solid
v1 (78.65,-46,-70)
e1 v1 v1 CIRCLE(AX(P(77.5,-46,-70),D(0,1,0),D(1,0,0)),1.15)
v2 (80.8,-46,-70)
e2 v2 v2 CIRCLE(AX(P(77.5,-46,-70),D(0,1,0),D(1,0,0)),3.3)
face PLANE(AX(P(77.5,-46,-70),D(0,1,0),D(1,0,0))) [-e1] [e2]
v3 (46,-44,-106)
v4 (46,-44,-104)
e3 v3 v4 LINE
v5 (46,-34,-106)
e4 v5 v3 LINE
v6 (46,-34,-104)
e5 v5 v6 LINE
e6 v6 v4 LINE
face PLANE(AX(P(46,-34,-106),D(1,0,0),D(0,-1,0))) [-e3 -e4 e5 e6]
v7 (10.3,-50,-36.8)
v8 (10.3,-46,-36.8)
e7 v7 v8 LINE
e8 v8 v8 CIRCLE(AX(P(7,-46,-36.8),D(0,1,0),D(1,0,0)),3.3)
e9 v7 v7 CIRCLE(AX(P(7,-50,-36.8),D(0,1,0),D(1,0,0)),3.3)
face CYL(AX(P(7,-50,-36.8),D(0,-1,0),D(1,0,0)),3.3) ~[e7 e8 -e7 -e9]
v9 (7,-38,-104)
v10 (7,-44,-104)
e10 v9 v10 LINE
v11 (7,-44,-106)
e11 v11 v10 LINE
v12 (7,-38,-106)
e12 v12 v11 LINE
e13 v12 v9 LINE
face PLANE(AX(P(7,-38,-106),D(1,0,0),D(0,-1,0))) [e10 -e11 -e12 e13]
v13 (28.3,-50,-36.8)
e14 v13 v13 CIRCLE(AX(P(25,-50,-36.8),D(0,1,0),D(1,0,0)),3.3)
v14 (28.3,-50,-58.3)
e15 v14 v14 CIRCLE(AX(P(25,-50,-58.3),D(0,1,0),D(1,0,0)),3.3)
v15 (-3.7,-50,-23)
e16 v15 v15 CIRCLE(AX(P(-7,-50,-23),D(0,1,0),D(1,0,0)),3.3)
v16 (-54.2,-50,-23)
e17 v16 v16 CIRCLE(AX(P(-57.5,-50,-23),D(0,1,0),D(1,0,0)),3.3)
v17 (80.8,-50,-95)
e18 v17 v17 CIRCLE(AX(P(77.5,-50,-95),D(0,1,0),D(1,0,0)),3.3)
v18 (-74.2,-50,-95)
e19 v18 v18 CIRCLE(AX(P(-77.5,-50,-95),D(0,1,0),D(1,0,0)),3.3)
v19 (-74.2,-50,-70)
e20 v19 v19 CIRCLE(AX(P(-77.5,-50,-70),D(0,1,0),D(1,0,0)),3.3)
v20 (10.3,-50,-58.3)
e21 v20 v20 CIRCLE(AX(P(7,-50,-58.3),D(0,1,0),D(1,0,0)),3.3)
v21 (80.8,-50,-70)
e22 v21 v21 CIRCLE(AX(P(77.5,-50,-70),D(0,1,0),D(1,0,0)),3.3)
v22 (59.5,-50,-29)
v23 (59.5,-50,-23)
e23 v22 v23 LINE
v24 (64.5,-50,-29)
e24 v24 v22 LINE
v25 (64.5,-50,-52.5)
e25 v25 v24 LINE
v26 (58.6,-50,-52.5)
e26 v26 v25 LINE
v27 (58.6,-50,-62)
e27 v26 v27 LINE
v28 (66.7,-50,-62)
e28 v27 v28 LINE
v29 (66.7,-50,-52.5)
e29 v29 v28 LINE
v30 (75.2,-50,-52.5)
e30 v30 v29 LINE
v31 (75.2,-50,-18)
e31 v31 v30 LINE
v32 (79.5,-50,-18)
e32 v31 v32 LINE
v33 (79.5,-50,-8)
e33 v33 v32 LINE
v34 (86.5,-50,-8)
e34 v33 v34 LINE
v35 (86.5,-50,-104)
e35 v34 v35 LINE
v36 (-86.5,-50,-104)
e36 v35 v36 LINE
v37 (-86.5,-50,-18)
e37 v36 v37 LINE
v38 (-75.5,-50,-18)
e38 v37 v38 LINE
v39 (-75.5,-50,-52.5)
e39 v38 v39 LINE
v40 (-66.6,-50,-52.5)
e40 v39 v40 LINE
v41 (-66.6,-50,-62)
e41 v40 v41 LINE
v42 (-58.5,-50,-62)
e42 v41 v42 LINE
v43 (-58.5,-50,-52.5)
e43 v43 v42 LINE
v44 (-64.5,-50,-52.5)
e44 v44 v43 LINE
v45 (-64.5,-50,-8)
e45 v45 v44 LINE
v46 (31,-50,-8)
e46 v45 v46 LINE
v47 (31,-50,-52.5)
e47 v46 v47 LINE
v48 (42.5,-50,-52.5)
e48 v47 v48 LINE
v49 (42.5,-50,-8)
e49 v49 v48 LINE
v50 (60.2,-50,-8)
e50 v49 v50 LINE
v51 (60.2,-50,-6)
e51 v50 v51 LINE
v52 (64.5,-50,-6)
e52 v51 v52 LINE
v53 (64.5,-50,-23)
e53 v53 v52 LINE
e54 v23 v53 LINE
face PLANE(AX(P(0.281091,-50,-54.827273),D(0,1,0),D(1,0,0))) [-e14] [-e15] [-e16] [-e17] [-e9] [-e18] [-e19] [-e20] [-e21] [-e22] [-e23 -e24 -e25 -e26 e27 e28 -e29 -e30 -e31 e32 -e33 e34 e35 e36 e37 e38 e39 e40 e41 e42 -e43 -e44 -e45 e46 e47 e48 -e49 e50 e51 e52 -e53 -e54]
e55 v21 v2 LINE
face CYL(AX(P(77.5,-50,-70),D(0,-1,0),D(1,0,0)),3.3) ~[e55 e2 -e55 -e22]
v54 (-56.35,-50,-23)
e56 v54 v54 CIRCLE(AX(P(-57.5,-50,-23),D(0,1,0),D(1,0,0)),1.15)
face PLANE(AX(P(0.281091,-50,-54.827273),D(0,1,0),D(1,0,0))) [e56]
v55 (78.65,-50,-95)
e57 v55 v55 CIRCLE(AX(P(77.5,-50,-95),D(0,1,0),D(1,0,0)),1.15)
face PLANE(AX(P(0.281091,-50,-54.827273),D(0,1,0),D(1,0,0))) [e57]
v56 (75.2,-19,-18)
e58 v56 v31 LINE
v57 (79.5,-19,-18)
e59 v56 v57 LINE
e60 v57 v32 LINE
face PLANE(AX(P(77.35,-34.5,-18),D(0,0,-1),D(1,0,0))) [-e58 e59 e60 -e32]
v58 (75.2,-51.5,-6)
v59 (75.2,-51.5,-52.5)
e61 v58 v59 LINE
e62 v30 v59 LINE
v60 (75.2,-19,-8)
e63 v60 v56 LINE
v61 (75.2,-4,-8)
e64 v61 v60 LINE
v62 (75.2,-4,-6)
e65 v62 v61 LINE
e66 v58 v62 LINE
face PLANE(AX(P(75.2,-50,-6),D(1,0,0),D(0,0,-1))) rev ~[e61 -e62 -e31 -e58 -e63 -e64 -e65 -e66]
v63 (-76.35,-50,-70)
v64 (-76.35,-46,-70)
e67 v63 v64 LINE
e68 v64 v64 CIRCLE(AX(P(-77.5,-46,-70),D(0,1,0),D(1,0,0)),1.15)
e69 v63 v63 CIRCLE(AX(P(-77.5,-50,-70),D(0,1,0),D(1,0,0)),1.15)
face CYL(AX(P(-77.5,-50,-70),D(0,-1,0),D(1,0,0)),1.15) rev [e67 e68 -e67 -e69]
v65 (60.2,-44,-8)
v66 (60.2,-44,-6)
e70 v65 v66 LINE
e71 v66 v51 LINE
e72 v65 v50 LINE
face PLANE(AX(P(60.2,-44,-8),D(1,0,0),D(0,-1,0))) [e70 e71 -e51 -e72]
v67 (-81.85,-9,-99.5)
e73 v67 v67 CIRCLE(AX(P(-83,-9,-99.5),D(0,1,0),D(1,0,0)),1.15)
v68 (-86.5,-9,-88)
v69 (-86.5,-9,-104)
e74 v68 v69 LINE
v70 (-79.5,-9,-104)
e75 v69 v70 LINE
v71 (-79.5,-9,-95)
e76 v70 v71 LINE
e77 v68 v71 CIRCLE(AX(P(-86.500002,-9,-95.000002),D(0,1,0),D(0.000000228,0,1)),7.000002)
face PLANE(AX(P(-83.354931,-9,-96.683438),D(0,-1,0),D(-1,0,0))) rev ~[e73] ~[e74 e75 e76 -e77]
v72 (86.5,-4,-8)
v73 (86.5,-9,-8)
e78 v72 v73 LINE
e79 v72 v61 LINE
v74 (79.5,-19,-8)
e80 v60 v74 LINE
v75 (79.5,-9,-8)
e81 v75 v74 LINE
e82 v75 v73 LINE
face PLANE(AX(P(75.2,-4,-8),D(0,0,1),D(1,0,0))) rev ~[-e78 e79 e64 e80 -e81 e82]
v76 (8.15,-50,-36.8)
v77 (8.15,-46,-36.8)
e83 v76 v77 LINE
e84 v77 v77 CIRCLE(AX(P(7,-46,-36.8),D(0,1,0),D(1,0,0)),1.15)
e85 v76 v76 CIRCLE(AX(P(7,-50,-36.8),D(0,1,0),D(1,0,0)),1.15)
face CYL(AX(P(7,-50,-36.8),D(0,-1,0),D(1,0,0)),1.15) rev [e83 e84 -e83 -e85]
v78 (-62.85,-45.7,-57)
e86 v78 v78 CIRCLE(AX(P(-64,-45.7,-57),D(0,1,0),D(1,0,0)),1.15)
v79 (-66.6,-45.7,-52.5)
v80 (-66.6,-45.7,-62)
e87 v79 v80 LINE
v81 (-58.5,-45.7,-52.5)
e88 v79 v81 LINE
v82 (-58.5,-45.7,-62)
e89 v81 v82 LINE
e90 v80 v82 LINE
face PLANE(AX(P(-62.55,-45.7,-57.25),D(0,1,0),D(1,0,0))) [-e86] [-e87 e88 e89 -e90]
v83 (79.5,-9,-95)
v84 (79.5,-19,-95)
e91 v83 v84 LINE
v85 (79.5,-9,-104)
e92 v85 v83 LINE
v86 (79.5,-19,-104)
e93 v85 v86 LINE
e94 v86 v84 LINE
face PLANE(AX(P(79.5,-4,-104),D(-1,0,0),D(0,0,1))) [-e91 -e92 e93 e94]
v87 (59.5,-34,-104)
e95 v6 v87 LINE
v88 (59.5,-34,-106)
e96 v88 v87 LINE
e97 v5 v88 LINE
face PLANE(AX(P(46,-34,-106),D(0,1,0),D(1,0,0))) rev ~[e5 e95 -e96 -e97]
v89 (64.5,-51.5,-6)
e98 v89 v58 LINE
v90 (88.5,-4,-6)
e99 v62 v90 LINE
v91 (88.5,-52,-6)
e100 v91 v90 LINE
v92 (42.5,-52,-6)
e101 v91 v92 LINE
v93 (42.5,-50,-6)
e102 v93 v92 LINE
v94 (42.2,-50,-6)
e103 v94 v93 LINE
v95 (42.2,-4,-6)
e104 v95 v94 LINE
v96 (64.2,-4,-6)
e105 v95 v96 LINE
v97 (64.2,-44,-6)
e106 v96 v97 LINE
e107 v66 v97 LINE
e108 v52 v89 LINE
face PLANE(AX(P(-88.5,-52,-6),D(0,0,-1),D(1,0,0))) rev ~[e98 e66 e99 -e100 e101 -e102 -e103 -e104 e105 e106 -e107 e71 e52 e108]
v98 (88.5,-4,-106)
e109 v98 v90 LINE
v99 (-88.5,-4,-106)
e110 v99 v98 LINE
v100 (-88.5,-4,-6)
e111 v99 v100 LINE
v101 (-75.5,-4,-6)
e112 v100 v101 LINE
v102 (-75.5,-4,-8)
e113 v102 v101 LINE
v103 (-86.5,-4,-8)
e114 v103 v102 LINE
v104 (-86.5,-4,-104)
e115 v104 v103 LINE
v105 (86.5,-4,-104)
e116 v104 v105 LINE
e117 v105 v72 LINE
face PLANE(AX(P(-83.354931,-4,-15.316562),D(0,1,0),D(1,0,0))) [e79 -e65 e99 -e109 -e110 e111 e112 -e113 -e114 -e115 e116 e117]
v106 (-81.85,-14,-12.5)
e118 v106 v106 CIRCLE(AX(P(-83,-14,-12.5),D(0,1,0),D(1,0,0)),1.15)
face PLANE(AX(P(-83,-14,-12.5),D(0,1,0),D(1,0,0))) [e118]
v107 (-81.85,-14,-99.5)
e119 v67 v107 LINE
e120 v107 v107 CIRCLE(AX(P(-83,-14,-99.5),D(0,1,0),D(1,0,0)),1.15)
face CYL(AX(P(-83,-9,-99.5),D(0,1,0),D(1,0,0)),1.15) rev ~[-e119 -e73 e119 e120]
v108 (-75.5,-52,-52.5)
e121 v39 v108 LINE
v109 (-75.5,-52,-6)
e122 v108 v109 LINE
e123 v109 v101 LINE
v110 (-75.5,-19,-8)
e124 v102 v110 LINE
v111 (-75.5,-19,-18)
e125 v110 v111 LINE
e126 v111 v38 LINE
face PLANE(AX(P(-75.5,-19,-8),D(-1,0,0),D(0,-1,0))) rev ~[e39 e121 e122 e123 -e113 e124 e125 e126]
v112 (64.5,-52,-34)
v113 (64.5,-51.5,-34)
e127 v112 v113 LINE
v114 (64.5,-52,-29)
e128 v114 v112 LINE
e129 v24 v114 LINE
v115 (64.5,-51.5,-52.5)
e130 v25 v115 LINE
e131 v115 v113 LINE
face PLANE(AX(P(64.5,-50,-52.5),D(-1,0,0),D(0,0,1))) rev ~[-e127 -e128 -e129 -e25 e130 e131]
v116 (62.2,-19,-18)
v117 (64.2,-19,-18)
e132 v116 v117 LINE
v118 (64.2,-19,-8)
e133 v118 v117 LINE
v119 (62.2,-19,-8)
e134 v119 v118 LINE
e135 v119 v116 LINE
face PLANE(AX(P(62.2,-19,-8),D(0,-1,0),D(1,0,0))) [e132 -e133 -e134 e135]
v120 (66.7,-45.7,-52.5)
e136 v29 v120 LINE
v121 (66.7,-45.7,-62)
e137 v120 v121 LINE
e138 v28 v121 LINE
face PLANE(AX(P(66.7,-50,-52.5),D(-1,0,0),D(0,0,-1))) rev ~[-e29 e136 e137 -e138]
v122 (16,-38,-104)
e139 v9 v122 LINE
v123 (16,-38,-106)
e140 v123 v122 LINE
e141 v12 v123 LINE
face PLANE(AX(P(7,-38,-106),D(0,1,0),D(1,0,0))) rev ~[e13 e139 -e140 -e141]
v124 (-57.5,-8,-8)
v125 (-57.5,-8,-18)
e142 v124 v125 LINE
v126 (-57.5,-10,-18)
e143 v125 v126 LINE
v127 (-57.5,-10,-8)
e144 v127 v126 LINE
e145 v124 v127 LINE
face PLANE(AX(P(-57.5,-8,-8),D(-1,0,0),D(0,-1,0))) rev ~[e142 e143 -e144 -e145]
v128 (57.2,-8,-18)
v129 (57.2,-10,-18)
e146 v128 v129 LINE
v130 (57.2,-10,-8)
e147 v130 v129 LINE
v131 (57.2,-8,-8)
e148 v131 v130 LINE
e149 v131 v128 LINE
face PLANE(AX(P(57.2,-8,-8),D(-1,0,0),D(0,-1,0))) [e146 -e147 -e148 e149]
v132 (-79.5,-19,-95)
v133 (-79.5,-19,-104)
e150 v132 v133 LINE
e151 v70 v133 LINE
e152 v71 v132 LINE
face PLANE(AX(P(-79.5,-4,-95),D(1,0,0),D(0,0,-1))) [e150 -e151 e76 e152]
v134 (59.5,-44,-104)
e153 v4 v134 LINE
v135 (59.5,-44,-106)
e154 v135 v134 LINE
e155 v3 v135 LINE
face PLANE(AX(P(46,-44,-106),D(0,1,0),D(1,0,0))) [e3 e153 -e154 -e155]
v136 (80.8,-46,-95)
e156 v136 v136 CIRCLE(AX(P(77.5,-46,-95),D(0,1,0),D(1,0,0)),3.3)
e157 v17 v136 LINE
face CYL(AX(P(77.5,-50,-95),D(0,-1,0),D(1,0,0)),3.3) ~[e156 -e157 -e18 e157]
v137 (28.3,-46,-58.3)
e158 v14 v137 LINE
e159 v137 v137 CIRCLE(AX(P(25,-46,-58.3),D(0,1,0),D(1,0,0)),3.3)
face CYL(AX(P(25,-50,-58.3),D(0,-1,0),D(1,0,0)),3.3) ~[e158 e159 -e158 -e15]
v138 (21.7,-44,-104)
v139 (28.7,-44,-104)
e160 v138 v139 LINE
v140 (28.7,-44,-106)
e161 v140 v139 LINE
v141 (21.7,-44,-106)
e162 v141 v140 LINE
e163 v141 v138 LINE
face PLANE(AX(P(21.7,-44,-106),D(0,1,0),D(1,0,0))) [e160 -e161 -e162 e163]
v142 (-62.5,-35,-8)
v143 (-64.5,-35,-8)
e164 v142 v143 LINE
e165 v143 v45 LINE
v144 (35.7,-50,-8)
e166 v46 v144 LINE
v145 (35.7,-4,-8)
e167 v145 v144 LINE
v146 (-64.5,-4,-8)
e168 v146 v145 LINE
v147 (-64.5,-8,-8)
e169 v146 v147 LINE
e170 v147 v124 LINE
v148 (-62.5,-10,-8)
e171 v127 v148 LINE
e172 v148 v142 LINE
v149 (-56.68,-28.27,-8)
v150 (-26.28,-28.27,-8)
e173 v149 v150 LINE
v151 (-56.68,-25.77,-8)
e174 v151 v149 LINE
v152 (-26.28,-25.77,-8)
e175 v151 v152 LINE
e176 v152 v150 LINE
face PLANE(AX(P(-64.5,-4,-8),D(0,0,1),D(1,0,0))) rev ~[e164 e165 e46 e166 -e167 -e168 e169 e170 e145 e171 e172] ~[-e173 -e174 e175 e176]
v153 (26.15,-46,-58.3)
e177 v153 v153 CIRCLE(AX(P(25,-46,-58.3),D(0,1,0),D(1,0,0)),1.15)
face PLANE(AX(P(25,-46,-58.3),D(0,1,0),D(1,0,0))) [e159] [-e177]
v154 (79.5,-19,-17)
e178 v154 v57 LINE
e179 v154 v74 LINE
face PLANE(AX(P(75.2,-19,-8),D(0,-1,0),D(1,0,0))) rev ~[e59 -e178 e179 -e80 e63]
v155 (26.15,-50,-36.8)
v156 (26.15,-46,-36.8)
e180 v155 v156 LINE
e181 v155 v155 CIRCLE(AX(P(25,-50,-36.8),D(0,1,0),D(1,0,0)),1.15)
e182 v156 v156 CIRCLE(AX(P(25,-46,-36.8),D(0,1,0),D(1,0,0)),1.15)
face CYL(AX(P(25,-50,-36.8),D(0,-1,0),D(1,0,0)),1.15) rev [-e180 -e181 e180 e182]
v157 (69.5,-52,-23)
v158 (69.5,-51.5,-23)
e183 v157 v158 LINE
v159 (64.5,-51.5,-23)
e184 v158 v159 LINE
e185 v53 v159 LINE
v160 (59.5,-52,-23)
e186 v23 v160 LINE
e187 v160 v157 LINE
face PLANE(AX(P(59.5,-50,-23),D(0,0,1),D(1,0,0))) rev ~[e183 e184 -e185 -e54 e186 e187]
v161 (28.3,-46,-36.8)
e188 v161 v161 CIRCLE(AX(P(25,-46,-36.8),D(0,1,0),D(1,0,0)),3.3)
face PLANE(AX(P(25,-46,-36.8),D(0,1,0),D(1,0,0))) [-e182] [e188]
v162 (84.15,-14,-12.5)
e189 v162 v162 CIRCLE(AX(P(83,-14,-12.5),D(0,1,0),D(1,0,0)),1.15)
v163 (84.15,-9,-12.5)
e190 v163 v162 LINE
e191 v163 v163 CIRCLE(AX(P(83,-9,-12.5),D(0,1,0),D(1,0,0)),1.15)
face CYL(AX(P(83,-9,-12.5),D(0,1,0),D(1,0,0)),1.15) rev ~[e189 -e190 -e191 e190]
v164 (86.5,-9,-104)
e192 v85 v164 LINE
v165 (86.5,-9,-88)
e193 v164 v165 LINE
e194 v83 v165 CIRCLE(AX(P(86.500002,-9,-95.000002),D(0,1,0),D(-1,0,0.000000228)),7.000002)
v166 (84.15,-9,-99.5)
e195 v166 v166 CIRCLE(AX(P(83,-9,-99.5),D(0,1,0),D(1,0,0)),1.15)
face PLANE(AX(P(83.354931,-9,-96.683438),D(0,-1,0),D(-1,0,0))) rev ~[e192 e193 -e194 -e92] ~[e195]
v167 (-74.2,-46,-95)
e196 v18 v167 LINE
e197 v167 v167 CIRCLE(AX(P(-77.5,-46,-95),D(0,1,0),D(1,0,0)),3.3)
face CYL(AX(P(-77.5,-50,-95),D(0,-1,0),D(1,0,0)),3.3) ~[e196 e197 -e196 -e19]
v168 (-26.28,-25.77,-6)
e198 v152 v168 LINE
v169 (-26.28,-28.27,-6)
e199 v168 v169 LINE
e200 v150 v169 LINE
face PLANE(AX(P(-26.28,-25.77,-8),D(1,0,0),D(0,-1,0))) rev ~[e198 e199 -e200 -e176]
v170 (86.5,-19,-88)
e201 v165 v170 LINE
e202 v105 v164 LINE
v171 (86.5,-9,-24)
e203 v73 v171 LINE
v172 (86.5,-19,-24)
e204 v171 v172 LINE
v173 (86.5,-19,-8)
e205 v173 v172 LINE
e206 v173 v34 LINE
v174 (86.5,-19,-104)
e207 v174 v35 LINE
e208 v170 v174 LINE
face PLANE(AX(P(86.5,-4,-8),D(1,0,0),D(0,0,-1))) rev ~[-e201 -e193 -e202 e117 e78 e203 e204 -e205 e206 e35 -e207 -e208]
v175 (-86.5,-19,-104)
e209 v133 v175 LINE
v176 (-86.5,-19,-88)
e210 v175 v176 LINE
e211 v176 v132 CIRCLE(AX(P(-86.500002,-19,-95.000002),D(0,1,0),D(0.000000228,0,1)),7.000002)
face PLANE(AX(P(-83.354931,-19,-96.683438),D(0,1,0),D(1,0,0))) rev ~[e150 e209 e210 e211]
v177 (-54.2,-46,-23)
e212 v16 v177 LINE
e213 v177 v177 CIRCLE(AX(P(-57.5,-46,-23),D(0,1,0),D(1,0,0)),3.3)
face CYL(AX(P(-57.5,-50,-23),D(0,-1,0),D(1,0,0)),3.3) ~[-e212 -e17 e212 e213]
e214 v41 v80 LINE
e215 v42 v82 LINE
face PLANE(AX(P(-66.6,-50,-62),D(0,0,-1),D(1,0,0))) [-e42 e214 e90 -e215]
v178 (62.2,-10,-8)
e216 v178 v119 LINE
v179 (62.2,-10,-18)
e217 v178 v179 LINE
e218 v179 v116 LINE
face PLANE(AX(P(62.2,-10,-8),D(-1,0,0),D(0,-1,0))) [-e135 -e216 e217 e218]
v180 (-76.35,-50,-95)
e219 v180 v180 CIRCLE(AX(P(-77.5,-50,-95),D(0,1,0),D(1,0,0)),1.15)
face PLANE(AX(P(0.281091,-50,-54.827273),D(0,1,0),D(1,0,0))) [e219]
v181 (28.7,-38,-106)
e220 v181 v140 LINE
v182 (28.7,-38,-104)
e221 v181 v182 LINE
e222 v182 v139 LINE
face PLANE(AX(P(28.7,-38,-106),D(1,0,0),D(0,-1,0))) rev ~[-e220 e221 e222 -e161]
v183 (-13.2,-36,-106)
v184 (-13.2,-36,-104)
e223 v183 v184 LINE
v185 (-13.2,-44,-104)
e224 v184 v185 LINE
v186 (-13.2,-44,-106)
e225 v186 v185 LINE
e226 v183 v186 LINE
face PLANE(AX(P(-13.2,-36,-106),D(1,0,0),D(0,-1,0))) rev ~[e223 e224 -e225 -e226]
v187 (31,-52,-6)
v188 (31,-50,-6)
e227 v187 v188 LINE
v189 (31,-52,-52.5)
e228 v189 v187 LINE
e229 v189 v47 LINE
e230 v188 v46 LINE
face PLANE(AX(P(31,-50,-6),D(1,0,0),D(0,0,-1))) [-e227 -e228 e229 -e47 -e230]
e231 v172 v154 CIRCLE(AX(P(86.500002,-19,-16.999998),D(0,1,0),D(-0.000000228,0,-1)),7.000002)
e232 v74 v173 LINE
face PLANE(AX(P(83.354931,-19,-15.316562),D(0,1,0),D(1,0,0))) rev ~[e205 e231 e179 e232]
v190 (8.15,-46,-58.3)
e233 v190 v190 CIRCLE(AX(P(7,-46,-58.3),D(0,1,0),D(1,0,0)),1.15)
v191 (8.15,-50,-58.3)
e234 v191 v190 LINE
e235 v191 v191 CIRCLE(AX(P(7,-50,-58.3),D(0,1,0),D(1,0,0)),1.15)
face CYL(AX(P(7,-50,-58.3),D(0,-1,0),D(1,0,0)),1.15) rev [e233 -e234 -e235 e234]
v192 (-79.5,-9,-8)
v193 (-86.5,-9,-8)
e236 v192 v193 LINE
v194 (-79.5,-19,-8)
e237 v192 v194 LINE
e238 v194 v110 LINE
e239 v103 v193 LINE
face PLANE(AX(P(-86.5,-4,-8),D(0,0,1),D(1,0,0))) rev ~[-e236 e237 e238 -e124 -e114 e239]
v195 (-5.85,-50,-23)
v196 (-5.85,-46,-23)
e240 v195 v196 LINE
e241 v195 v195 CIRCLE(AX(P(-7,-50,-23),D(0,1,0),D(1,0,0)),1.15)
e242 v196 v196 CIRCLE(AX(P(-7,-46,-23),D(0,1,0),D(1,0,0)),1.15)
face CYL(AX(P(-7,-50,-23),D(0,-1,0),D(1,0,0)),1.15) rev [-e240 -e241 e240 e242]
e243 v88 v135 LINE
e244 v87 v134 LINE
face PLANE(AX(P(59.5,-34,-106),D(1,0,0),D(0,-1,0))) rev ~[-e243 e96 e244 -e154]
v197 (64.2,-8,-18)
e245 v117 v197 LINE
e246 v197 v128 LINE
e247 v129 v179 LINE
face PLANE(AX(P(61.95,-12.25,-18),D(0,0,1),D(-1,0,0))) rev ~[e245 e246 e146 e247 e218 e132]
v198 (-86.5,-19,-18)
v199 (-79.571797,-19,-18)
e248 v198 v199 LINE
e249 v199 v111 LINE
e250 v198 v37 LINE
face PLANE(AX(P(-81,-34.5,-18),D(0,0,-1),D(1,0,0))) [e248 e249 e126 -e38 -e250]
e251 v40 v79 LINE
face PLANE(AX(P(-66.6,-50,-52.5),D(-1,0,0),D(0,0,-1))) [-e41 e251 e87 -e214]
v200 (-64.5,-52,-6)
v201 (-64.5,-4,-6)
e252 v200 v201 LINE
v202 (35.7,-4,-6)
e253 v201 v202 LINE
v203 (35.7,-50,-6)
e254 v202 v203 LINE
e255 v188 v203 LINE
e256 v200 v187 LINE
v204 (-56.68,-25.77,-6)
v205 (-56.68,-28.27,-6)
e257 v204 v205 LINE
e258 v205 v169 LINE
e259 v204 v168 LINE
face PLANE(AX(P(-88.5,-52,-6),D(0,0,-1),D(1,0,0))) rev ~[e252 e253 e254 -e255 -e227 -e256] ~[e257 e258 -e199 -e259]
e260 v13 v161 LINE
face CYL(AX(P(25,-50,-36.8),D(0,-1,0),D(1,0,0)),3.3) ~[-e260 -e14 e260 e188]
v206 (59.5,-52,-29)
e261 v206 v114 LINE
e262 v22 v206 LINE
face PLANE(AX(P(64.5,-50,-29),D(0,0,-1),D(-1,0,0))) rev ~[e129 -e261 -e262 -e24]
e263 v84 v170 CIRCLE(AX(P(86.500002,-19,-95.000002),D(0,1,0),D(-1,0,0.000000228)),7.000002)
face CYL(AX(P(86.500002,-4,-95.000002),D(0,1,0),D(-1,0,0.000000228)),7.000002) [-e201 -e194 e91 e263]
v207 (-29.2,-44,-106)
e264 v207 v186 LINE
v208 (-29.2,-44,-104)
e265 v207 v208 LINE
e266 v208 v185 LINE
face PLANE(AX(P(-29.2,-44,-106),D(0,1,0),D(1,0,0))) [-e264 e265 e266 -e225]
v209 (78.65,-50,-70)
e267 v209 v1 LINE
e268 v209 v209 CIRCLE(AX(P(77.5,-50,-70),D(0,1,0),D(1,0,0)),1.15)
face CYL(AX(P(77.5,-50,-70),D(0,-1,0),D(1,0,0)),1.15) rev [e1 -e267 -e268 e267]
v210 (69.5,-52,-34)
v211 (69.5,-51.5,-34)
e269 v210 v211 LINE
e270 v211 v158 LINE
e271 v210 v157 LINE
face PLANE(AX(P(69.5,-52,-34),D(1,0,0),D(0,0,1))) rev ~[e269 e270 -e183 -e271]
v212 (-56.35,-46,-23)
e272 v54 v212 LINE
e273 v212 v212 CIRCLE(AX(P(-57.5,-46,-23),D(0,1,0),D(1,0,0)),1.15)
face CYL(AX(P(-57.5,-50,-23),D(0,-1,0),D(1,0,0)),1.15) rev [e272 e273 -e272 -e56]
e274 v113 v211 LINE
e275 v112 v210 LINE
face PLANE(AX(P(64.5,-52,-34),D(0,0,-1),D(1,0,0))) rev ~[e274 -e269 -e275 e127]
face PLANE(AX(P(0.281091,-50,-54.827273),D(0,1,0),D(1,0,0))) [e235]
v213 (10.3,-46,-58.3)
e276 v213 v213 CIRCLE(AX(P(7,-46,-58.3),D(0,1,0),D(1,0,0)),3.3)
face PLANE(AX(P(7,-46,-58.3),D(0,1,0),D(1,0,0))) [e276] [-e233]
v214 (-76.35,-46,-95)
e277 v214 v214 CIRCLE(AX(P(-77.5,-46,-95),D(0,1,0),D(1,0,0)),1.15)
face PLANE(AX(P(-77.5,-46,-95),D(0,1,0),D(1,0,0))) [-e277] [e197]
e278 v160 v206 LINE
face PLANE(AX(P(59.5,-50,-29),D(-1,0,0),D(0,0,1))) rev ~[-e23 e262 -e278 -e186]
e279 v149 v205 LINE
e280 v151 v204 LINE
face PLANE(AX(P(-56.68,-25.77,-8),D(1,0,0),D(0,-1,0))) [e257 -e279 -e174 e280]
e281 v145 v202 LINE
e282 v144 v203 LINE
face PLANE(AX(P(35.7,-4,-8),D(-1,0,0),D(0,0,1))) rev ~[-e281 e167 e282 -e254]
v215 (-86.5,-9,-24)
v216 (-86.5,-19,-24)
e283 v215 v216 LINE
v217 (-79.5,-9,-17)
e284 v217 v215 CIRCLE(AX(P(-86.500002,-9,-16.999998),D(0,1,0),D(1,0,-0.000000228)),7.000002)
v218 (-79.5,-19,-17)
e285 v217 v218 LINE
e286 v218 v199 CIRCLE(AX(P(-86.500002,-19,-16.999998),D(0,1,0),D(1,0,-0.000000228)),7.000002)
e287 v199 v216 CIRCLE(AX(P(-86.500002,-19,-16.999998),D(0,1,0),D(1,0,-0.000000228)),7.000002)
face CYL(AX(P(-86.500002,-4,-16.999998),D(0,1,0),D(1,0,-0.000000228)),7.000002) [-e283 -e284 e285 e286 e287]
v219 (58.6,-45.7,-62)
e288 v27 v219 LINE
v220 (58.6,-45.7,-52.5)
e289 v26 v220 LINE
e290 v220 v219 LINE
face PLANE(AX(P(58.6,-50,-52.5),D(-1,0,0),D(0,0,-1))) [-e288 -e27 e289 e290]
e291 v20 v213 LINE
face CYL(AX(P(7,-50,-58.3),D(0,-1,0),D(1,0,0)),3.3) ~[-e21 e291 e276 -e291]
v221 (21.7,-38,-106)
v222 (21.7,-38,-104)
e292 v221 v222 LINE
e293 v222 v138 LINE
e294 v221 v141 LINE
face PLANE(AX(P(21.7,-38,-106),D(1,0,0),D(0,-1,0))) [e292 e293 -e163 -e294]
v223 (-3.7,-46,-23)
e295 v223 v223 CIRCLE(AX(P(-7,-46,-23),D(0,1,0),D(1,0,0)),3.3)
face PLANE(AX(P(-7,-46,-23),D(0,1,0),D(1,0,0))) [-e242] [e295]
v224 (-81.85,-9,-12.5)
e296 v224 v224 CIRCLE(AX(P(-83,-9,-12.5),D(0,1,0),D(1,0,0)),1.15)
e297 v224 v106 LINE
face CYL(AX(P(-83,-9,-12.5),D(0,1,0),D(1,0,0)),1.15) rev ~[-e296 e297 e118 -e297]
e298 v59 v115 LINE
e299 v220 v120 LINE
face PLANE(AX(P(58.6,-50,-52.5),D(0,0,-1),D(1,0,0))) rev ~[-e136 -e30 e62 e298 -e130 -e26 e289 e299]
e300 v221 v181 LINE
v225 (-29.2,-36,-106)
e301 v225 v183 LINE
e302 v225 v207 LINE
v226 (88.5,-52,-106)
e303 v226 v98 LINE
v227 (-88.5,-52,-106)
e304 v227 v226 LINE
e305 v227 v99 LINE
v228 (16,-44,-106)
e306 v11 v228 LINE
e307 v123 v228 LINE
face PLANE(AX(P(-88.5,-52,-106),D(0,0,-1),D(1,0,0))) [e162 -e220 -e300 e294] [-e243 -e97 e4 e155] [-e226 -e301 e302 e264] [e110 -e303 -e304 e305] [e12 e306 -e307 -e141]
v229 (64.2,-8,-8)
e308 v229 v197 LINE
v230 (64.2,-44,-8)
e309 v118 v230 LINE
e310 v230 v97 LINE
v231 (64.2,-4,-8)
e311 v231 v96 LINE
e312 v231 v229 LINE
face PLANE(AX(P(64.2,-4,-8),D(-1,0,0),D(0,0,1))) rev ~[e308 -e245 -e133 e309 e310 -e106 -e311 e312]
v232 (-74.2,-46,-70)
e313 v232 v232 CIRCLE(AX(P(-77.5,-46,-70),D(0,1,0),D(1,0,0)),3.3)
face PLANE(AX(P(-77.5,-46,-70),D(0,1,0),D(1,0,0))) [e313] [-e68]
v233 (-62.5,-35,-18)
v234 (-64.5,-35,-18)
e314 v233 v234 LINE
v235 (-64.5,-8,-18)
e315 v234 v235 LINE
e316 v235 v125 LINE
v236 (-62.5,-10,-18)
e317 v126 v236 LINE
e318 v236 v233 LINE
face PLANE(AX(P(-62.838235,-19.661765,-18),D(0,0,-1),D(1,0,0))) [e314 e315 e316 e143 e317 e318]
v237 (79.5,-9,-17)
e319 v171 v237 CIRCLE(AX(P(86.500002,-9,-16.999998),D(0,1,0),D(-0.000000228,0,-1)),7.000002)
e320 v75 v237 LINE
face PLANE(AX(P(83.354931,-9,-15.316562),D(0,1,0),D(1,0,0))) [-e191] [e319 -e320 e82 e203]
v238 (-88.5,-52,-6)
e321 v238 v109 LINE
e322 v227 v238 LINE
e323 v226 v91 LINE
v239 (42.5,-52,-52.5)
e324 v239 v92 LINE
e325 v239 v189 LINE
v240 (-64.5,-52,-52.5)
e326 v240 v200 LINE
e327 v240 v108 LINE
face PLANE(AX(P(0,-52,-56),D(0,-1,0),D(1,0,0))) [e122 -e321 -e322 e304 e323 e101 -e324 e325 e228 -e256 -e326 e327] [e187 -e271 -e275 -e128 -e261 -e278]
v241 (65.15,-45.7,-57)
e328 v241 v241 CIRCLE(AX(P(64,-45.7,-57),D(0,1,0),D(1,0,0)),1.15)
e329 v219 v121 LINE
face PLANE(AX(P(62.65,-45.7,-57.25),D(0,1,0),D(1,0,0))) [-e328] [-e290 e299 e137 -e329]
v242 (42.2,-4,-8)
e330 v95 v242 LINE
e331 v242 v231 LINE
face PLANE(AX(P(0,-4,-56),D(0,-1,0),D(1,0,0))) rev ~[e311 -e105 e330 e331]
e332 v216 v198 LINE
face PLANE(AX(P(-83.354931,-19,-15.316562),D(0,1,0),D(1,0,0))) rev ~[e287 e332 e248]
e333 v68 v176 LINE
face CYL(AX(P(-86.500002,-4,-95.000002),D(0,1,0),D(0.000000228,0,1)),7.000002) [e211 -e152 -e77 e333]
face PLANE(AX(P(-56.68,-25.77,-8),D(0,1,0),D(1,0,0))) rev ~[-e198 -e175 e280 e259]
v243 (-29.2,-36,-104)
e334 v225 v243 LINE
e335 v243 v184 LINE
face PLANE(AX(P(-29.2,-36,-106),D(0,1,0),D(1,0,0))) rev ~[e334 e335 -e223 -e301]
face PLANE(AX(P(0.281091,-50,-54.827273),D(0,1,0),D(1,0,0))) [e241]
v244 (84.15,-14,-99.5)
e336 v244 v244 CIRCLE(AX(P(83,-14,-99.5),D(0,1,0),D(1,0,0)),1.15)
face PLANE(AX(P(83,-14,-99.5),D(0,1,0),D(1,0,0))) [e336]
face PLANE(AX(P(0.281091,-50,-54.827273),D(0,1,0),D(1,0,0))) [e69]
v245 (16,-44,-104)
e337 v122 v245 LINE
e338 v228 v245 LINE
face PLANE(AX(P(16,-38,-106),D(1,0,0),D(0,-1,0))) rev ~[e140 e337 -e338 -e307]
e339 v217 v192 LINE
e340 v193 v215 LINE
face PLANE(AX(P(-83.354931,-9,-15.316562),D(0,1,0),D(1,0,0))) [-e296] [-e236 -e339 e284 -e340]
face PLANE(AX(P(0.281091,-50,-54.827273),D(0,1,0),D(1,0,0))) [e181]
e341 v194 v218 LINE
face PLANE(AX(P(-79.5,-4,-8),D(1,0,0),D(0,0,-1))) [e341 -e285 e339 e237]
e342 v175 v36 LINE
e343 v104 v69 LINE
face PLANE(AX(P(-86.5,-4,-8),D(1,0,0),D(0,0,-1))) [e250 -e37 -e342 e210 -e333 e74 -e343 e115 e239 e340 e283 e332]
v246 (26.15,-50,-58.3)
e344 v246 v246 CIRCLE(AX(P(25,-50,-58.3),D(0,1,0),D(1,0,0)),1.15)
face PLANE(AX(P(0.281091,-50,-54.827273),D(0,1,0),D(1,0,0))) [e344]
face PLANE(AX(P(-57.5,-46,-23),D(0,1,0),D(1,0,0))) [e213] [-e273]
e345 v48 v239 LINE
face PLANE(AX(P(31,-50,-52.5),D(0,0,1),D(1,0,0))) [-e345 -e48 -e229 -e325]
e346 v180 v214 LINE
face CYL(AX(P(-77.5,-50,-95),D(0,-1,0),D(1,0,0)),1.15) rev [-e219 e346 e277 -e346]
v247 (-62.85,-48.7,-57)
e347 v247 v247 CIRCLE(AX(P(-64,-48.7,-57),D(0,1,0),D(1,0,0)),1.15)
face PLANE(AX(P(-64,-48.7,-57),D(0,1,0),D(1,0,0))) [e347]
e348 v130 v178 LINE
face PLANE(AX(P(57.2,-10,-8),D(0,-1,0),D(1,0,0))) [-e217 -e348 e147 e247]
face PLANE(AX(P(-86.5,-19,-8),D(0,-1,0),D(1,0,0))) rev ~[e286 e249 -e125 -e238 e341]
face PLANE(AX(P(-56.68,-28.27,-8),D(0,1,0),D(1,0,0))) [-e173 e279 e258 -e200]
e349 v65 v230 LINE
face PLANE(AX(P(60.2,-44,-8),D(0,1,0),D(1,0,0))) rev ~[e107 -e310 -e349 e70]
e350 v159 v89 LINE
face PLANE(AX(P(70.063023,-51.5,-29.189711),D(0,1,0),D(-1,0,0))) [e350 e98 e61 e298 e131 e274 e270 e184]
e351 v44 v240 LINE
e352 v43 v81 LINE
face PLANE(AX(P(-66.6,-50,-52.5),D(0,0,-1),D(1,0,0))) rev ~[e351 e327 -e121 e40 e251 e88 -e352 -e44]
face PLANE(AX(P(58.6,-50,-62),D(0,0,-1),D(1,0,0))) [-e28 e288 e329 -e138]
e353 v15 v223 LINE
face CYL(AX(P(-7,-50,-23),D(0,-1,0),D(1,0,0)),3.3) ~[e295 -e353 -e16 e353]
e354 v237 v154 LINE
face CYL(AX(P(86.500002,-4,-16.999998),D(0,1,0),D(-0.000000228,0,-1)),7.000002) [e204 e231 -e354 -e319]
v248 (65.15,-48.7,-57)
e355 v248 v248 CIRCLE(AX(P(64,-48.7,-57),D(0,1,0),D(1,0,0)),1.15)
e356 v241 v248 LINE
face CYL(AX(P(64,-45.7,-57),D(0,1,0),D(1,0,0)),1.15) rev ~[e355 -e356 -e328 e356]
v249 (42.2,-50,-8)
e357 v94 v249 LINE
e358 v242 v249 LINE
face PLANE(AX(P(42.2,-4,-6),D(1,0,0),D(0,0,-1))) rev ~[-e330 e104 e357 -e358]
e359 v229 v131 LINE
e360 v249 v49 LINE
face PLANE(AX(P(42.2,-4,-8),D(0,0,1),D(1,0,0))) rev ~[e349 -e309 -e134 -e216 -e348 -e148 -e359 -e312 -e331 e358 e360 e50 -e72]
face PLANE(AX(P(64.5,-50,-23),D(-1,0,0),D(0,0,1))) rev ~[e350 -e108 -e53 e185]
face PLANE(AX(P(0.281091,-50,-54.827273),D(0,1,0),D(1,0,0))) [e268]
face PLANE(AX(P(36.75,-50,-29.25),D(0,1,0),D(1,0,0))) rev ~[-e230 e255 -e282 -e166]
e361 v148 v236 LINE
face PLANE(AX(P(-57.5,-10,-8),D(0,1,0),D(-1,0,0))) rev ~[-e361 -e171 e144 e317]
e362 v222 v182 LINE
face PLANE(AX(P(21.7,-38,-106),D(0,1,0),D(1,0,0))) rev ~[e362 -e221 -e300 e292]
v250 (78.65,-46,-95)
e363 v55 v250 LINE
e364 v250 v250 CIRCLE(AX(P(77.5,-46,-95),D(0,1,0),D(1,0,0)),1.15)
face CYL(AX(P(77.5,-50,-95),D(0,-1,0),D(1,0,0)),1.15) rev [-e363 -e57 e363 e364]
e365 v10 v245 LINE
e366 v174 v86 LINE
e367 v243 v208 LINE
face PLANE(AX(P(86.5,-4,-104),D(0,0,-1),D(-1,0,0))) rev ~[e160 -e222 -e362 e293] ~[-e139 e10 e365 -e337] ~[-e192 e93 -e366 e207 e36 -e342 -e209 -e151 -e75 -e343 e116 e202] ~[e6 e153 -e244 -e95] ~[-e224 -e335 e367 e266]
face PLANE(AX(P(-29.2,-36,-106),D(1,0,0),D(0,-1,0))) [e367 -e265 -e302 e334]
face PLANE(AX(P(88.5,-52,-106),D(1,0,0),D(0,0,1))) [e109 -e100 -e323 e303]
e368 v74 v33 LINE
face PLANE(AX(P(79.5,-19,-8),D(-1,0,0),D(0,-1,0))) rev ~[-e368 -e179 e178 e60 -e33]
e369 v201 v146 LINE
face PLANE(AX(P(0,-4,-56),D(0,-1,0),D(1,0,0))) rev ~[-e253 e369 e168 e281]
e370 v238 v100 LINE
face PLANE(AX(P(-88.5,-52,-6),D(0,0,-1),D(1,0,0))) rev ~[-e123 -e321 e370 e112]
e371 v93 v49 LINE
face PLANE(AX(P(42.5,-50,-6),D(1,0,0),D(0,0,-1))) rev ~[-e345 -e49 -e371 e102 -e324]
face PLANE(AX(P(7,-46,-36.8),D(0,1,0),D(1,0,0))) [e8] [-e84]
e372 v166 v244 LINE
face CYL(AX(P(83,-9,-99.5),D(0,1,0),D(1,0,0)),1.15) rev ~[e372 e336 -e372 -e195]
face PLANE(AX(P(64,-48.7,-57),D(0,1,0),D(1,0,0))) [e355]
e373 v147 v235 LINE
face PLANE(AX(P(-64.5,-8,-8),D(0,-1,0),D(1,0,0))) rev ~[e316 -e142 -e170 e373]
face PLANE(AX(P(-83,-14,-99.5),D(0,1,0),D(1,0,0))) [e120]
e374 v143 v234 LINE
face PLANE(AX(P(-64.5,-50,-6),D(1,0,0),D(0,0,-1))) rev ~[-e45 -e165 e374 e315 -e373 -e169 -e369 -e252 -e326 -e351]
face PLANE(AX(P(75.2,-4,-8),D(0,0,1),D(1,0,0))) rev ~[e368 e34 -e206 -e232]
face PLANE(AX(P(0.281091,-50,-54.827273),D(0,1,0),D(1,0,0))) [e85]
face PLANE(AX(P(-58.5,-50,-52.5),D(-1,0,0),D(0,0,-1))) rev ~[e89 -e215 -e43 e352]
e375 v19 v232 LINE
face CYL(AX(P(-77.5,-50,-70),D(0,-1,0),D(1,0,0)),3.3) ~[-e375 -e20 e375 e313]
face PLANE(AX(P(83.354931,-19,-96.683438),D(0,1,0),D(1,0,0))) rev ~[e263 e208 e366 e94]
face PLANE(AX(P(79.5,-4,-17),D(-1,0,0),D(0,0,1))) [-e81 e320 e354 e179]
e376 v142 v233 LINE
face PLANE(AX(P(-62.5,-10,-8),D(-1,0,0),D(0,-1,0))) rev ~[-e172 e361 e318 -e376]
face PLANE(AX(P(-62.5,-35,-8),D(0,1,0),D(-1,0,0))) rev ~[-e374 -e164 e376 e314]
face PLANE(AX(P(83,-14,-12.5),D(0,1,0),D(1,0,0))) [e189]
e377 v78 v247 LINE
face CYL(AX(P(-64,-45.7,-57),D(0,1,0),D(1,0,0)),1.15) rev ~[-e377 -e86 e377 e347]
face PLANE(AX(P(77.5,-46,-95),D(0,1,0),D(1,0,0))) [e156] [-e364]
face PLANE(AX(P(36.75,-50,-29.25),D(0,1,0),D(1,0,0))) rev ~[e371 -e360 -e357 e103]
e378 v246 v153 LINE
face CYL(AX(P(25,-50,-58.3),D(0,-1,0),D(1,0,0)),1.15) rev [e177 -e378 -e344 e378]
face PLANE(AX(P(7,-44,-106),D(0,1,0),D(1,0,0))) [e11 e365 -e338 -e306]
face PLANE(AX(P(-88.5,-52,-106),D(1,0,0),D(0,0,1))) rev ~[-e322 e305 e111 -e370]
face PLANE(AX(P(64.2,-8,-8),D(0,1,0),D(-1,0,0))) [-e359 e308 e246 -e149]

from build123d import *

# Parameters (mm, degrees)
SKETCH070_W     = 177
SKETCH070_H     = 100
PAD042_DEPTH    = 48
POCKET026_DEPTH = 46
SKETCH072_W     = 11
SKETCH072_H     = 46.5
SKETCH072_W_2   = 11.5
POCKET027_DEPTH = 5
SKETCH075_W     = 8.1
SKETCH075_H     = 9.5
PAD045_DEPTH    = 4.3
SKETCH077_R     = 1.15
POCKET029_DEPTH = 3
SKETCH086_R     = 3.3
SKETCH086_R_2   = 1.15
PAD052_DEPTH    = 4
SKETCH088_W     = 4
SKETCH088_H     = 6
SKETCH088_W_2   = 30.4
SKETCH088_H_2   = 2.5
POCKET032_DEPTH = 5
SKETCH089_W     = 13.5
SKETCH089_H     = 10
SKETCH089_W_2   = 16
SKETCH089_H_2   = 8
SKETCH089_W_3   = 7
SKETCH089_H_3   = 6
SKETCH089_W_4   = 9
POCKET033_DEPTH = 5
PAD054_DEPTH    = 15
POCKET034_DEPTH = 5
SKETCH092_R     = 1.15
POCKET035_DEPTH = 5
SKETCH093_W     = 95.5
SKETCH093_H     = 46.5
PAD055_DEPTH    = 0.5
SKETCH094_W     = 11
SKETCH094_H     = 31
SKETCH094_W_2   = 4.3
PAD056_DEPTH    = 10


with BuildPart() as part:
    # Sketch070 → Pad042 (new body)
    with BuildSketch(Plane.XZ):
        Rectangle(SKETCH070_W, SKETCH070_H)
    extrude(amount=-PAD042_DEPTH)

    # Sketch071 (on Face6 of Pad042) → Pocket026 (cut)
    with BuildSketch(Plane(origin=(0, 48, 0), x_dir=(1, 0, 0), z_dir=(0, 1, 0))):
        Polygon((-86.5, 48), (-86.5, -48), (-75.5, -48), (-75.5, -50), (-64.5, -50), (-64.5, -48), (35.7, -48), (35.7, -50), (42.2, -50), (42.2, -48), (64.2, -48), (64.2, -50), (75.2, -50), (75.2, -48), (86.5, -48), (86.5, 48), align=None)
    extrude(amount=-POCKET026_DEPTH, mode=Mode.SUBTRACT)

    # Sketch072 (on Face6 of Pocket026) → Pocket027 (cut)
    with BuildSketch(Plane(origin=(0, 2, 0), x_dir=(1, 0, 0), z_dir=(0, 1, 0))):
        Polygon((64.5, -50), (75.2, -50), (75.2, -3.5), (64.5, -3.5), (64.5, -27), (59.5, -27), (59.5, -33), (64.5, -33), align=None)
        with Locations((-70, -26.75)):
            Rectangle(SKETCH072_W, SKETCH072_H)
        with Locations((36.75, -26.75)):
            Rectangle(SKETCH072_W_2, SKETCH072_H)
    extrude(amount=-POCKET027_DEPTH, mode=Mode.SUBTRACT)

    # Sketch075 (on Face20 of Pocket027) → Pad045 (join)
    with BuildSketch(Plane(origin=(0, 2, 0), x_dir=(1, 0, 0), z_dir=(0, 1, 0))):
        with Locations((62.65, 1.25)):
            Rectangle(SKETCH075_W, SKETCH075_H)
        with Locations((-62.55, 1.25)):
            Rectangle(SKETCH075_W, SKETCH075_H)
    extrude(amount=PAD045_DEPTH)

    # Sketch077 (on Face42 of Pad045) → Pocket029 (cut)
    with BuildSketch(Plane(origin=(0, 6.3, 0), x_dir=(1, 0, 0), z_dir=(0, 1, 0))):
        with Locations((64, 1)):
            Circle(SKETCH077_R)
        with Locations((-64, 1)):
            Circle(SKETCH077_R)
    extrude(amount=-POCKET029_DEPTH, mode=Mode.SUBTRACT)

    # Sketch086 (on Face23 of Pocket029) → Pad052 (join)
    with BuildSketch(Plane(origin=(0, 2, 0), x_dir=(1, 0, 0), z_dir=(0, 1, 0))):
        with Locations((7, 2.3)):
            Circle(SKETCH086_R)
        with Locations((7, 2.3)):
            Circle(SKETCH086_R_2, mode=Mode.SUBTRACT)
        with Locations((25, 2.3)):
            Circle(SKETCH086_R)
        with Locations((25, 2.3)):
            Circle(SKETCH086_R_2, mode=Mode.SUBTRACT)
        with Locations((7, -19.2)):
            Circle(SKETCH086_R)
        with Locations((7, -19.2)):
            Circle(SKETCH086_R_2, mode=Mode.SUBTRACT)
        with Locations((25, -19.2)):
            Circle(SKETCH086_R)
        with Locations((25, -19.2)):
            Circle(SKETCH086_R_2, mode=Mode.SUBTRACT)
        with Locations((-77.5, 39)):
            Circle(SKETCH086_R)
        with Locations((-77.5, 39)):
            Circle(SKETCH086_R_2, mode=Mode.SUBTRACT)
        with Locations((77.5, 39)):
            Circle(SKETCH086_R)
        with Locations((77.5, 39)):
            Circle(SKETCH086_R_2, mode=Mode.SUBTRACT)
        with Locations((77.5, 14)):
            Circle(SKETCH086_R)
        with Locations((77.5, 14)):
            Circle(SKETCH086_R_2, mode=Mode.SUBTRACT)
        with Locations((-77.5, 14)):
            Circle(SKETCH086_R)
        with Locations((-77.5, 14)):
            Circle(SKETCH086_R_2, mode=Mode.SUBTRACT)
        with Locations((-57.5, -33)):
            Circle(SKETCH086_R)
        with Locations((-57.5, -33)):
            Circle(SKETCH086_R_2, mode=Mode.SUBTRACT)
        with Locations((-7, -33)):
            Circle(SKETCH086_R)
        with Locations((-7, -33)):
            Circle(SKETCH086_R_2, mode=Mode.SUBTRACT)
    extrude(amount=PAD052_DEPTH)

    # Sketch088 (on Face39 of Pad052) → Pocket032 (cut)
    with BuildSketch(Plane(origin=(0, 0, 48), x_dir=(1, 0, 0), z_dir=(0, 0, -1))):
        with Locations((62.2, -5)):
            Rectangle(SKETCH088_W, SKETCH088_H)
        with Locations((-41.48, -24.98)):
            Rectangle(SKETCH088_W_2, SKETCH088_H_2)
    extrude(amount=-POCKET032_DEPTH, mode=Mode.SUBTRACT)

    # Sketch089 (on Face22 of Pocket032) → Pocket033 (cut)
    with BuildSketch(Plane(origin=(0, 0, -50), x_dir=(1, 0, 0), z_dir=(0, 0, -1))):
        with Locations((52.75, -13)):
            Rectangle(SKETCH089_W, SKETCH089_H)
        with Locations((-21.2, -12)):
            Rectangle(SKETCH089_W_2, SKETCH089_H_2)
        with Locations((25.2, -11)):
            Rectangle(SKETCH089_W_3, SKETCH089_H_3)
        with Locations((11.5, -11)):
            Rectangle(SKETCH089_W_4, SKETCH089_H_3)
    extrude(amount=-POCKET033_DEPTH, mode=Mode.SUBTRACT)

    # Sketch090 (on Face4 of Pocket033) → Pad054 (join)
    with BuildSketch(Plane(origin=(0, 48, 0), x_dir=(1, 0, 0), z_dir=(0, 1, 0))):
        with BuildLine():
            Line((-86.5, -48), (-79.5, -48))
            Line((-79.5, -48), (-79.5, -39))
            ThreePointArc((-79.5, -39), (-81.550253, -34.050253), (-86.5, -32))
            Line((-86.5, -32), (-86.5, -39))
            Line((-86.5, -39), (-86.5, -48))
        make_face()
        with BuildLine():
            Line((86.5, -48), (86.5, -39))
            Line((86.5, -32), (86.5, -39))
            ThreePointArc((86.5, -32), (81.550253, -34.050253), (79.5, -39))
            Line((79.5, -39), (79.5, -48))
            Line((79.5, -48), (86.5, -48))
        make_face()
        with BuildLine():
            Line((-86.5, 48), (-86.5, 39))
            Line((-86.5, 39), (-86.5, 32))
            ThreePointArc((-86.5, 32), (-81.550253, 34.050253), (-79.5, 39))
            Line((-79.5, 39), (-79.5, 48))
            Line((-79.5, 48), (-86.5, 48))
        make_face()
        with BuildLine():
            Line((86.5, 48), (79.5, 48))
            Line((79.5, 48), (79.5, 39))
            ThreePointArc((79.5, 39), (81.550253, 34.050253), (86.5, 32))
            Line((86.5, 39), (86.5, 32))
            Line((86.5, 39), (86.5, 48))
        make_face()
    extrude(amount=-PAD054_DEPTH)

    # Sketch091 (on Face38 of Pad054) → Pocket034 (cut)
    with BuildSketch(Plane(origin=(0, 48, 0), x_dir=(1, 0, 0), z_dir=(0, 1, 0))):
        with BuildLine():
            Line((-86.5, 32), (-86.5, 48))
            Line((-86.5, 48), (-79.5, 48))
            Line((-79.5, 48), (-79.5, 39))
            ThreePointArc((-86.5, 32), (-81.550253, 34.050253), (-79.5, 39))
        make_face()
        with BuildLine():
            Line((79.5, 48), (86.5, 48))
            Line((86.5, 48), (86.5, 32))
            ThreePointArc((79.5, 39), (81.550253, 34.050253), (86.5, 32))
            Line((79.5, 48), (79.5, 39))
        make_face()
        with BuildLine():
            ThreePointArc((-79.5, -39), (-81.550253, -34.050253), (-86.5, -32))
            Line((-86.5, -48), (-86.5, -32))
            Line((-79.5, -48), (-86.5, -48))
            Line((-79.5, -39), (-79.5, -48))
        make_face()
        with BuildLine():
            Line((79.5, -48), (86.5, -48))
            Line((86.5, -48), (86.5, -32))
            ThreePointArc((86.5, -32), (81.550253, -34.050253), (79.5, -39))
            Line((79.5, -48), (79.5, -39))
        make_face()
    extrude(amount=-POCKET034_DEPTH, mode=Mode.SUBTRACT)

    # Sketch092 (on Face110 of Pocket034) → Pocket035 (cut)
    with BuildSketch(Plane(origin=(0, 43, 0), x_dir=(1, 0, 0), z_dir=(0, 1, 0))):
        with Locations((83, -43.5)):
            Circle(SKETCH092_R)
        with Locations((-83, -43.5)):
            Circle(SKETCH092_R)
        with Locations((-83, 43.5)):
            Circle(SKETCH092_R)
        with Locations((83, 43.5)):
            Circle(SKETCH092_R)
    extrude(amount=-POCKET035_DEPTH, mode=Mode.SUBTRACT)

    # Sketch093 (on Face2 of Pocket035) → Pad055 (join)
    with BuildSketch(Plane.XZ):
        with Locations((-16.75, 26.75)):
            Rectangle(SKETCH093_W, SKETCH093_H)
        Polygon((64.5, 50), (75.2, 50), (75.2, 3.5), (64.5, 3.5), (64.5, 22), (69.5, 22), (69.5, 33), (64.5, 33), align=None)
    extrude(amount=-PAD055_DEPTH)

    # Sketch094 (on Face70 of Pad055) → Pad056 (join)
    with BuildSketch(Plane(origin=(0, 0, 48), x_dir=(1, 0, 0), z_dir=(0, 0, -1))):
        Polygon((-64.5, -44), (-57.5, -44), (-57.5, -42), (-62.5, -42), (-62.5, -17), (-64.5, -17), align=None)
        Polygon((64.2, -44), (57.2, -44), (57.2, -42), (62.2, -42), (62.2, -33), (64.2, -33), align=None)
        with Locations((-81, -17.5)):
            Rectangle(SKETCH094_W, SKETCH094_H)
        with Locations((77.35, -17.5)):
            Rectangle(SKETCH094_W_2, SKETCH094_H)
    extrude(amount=PAD056_DEPTH)


with BuildPart() as part_1:
    # Body018 placement: moved
    add(part.part.moved(Location((0, -52, -56))))


solid = part_1.part
